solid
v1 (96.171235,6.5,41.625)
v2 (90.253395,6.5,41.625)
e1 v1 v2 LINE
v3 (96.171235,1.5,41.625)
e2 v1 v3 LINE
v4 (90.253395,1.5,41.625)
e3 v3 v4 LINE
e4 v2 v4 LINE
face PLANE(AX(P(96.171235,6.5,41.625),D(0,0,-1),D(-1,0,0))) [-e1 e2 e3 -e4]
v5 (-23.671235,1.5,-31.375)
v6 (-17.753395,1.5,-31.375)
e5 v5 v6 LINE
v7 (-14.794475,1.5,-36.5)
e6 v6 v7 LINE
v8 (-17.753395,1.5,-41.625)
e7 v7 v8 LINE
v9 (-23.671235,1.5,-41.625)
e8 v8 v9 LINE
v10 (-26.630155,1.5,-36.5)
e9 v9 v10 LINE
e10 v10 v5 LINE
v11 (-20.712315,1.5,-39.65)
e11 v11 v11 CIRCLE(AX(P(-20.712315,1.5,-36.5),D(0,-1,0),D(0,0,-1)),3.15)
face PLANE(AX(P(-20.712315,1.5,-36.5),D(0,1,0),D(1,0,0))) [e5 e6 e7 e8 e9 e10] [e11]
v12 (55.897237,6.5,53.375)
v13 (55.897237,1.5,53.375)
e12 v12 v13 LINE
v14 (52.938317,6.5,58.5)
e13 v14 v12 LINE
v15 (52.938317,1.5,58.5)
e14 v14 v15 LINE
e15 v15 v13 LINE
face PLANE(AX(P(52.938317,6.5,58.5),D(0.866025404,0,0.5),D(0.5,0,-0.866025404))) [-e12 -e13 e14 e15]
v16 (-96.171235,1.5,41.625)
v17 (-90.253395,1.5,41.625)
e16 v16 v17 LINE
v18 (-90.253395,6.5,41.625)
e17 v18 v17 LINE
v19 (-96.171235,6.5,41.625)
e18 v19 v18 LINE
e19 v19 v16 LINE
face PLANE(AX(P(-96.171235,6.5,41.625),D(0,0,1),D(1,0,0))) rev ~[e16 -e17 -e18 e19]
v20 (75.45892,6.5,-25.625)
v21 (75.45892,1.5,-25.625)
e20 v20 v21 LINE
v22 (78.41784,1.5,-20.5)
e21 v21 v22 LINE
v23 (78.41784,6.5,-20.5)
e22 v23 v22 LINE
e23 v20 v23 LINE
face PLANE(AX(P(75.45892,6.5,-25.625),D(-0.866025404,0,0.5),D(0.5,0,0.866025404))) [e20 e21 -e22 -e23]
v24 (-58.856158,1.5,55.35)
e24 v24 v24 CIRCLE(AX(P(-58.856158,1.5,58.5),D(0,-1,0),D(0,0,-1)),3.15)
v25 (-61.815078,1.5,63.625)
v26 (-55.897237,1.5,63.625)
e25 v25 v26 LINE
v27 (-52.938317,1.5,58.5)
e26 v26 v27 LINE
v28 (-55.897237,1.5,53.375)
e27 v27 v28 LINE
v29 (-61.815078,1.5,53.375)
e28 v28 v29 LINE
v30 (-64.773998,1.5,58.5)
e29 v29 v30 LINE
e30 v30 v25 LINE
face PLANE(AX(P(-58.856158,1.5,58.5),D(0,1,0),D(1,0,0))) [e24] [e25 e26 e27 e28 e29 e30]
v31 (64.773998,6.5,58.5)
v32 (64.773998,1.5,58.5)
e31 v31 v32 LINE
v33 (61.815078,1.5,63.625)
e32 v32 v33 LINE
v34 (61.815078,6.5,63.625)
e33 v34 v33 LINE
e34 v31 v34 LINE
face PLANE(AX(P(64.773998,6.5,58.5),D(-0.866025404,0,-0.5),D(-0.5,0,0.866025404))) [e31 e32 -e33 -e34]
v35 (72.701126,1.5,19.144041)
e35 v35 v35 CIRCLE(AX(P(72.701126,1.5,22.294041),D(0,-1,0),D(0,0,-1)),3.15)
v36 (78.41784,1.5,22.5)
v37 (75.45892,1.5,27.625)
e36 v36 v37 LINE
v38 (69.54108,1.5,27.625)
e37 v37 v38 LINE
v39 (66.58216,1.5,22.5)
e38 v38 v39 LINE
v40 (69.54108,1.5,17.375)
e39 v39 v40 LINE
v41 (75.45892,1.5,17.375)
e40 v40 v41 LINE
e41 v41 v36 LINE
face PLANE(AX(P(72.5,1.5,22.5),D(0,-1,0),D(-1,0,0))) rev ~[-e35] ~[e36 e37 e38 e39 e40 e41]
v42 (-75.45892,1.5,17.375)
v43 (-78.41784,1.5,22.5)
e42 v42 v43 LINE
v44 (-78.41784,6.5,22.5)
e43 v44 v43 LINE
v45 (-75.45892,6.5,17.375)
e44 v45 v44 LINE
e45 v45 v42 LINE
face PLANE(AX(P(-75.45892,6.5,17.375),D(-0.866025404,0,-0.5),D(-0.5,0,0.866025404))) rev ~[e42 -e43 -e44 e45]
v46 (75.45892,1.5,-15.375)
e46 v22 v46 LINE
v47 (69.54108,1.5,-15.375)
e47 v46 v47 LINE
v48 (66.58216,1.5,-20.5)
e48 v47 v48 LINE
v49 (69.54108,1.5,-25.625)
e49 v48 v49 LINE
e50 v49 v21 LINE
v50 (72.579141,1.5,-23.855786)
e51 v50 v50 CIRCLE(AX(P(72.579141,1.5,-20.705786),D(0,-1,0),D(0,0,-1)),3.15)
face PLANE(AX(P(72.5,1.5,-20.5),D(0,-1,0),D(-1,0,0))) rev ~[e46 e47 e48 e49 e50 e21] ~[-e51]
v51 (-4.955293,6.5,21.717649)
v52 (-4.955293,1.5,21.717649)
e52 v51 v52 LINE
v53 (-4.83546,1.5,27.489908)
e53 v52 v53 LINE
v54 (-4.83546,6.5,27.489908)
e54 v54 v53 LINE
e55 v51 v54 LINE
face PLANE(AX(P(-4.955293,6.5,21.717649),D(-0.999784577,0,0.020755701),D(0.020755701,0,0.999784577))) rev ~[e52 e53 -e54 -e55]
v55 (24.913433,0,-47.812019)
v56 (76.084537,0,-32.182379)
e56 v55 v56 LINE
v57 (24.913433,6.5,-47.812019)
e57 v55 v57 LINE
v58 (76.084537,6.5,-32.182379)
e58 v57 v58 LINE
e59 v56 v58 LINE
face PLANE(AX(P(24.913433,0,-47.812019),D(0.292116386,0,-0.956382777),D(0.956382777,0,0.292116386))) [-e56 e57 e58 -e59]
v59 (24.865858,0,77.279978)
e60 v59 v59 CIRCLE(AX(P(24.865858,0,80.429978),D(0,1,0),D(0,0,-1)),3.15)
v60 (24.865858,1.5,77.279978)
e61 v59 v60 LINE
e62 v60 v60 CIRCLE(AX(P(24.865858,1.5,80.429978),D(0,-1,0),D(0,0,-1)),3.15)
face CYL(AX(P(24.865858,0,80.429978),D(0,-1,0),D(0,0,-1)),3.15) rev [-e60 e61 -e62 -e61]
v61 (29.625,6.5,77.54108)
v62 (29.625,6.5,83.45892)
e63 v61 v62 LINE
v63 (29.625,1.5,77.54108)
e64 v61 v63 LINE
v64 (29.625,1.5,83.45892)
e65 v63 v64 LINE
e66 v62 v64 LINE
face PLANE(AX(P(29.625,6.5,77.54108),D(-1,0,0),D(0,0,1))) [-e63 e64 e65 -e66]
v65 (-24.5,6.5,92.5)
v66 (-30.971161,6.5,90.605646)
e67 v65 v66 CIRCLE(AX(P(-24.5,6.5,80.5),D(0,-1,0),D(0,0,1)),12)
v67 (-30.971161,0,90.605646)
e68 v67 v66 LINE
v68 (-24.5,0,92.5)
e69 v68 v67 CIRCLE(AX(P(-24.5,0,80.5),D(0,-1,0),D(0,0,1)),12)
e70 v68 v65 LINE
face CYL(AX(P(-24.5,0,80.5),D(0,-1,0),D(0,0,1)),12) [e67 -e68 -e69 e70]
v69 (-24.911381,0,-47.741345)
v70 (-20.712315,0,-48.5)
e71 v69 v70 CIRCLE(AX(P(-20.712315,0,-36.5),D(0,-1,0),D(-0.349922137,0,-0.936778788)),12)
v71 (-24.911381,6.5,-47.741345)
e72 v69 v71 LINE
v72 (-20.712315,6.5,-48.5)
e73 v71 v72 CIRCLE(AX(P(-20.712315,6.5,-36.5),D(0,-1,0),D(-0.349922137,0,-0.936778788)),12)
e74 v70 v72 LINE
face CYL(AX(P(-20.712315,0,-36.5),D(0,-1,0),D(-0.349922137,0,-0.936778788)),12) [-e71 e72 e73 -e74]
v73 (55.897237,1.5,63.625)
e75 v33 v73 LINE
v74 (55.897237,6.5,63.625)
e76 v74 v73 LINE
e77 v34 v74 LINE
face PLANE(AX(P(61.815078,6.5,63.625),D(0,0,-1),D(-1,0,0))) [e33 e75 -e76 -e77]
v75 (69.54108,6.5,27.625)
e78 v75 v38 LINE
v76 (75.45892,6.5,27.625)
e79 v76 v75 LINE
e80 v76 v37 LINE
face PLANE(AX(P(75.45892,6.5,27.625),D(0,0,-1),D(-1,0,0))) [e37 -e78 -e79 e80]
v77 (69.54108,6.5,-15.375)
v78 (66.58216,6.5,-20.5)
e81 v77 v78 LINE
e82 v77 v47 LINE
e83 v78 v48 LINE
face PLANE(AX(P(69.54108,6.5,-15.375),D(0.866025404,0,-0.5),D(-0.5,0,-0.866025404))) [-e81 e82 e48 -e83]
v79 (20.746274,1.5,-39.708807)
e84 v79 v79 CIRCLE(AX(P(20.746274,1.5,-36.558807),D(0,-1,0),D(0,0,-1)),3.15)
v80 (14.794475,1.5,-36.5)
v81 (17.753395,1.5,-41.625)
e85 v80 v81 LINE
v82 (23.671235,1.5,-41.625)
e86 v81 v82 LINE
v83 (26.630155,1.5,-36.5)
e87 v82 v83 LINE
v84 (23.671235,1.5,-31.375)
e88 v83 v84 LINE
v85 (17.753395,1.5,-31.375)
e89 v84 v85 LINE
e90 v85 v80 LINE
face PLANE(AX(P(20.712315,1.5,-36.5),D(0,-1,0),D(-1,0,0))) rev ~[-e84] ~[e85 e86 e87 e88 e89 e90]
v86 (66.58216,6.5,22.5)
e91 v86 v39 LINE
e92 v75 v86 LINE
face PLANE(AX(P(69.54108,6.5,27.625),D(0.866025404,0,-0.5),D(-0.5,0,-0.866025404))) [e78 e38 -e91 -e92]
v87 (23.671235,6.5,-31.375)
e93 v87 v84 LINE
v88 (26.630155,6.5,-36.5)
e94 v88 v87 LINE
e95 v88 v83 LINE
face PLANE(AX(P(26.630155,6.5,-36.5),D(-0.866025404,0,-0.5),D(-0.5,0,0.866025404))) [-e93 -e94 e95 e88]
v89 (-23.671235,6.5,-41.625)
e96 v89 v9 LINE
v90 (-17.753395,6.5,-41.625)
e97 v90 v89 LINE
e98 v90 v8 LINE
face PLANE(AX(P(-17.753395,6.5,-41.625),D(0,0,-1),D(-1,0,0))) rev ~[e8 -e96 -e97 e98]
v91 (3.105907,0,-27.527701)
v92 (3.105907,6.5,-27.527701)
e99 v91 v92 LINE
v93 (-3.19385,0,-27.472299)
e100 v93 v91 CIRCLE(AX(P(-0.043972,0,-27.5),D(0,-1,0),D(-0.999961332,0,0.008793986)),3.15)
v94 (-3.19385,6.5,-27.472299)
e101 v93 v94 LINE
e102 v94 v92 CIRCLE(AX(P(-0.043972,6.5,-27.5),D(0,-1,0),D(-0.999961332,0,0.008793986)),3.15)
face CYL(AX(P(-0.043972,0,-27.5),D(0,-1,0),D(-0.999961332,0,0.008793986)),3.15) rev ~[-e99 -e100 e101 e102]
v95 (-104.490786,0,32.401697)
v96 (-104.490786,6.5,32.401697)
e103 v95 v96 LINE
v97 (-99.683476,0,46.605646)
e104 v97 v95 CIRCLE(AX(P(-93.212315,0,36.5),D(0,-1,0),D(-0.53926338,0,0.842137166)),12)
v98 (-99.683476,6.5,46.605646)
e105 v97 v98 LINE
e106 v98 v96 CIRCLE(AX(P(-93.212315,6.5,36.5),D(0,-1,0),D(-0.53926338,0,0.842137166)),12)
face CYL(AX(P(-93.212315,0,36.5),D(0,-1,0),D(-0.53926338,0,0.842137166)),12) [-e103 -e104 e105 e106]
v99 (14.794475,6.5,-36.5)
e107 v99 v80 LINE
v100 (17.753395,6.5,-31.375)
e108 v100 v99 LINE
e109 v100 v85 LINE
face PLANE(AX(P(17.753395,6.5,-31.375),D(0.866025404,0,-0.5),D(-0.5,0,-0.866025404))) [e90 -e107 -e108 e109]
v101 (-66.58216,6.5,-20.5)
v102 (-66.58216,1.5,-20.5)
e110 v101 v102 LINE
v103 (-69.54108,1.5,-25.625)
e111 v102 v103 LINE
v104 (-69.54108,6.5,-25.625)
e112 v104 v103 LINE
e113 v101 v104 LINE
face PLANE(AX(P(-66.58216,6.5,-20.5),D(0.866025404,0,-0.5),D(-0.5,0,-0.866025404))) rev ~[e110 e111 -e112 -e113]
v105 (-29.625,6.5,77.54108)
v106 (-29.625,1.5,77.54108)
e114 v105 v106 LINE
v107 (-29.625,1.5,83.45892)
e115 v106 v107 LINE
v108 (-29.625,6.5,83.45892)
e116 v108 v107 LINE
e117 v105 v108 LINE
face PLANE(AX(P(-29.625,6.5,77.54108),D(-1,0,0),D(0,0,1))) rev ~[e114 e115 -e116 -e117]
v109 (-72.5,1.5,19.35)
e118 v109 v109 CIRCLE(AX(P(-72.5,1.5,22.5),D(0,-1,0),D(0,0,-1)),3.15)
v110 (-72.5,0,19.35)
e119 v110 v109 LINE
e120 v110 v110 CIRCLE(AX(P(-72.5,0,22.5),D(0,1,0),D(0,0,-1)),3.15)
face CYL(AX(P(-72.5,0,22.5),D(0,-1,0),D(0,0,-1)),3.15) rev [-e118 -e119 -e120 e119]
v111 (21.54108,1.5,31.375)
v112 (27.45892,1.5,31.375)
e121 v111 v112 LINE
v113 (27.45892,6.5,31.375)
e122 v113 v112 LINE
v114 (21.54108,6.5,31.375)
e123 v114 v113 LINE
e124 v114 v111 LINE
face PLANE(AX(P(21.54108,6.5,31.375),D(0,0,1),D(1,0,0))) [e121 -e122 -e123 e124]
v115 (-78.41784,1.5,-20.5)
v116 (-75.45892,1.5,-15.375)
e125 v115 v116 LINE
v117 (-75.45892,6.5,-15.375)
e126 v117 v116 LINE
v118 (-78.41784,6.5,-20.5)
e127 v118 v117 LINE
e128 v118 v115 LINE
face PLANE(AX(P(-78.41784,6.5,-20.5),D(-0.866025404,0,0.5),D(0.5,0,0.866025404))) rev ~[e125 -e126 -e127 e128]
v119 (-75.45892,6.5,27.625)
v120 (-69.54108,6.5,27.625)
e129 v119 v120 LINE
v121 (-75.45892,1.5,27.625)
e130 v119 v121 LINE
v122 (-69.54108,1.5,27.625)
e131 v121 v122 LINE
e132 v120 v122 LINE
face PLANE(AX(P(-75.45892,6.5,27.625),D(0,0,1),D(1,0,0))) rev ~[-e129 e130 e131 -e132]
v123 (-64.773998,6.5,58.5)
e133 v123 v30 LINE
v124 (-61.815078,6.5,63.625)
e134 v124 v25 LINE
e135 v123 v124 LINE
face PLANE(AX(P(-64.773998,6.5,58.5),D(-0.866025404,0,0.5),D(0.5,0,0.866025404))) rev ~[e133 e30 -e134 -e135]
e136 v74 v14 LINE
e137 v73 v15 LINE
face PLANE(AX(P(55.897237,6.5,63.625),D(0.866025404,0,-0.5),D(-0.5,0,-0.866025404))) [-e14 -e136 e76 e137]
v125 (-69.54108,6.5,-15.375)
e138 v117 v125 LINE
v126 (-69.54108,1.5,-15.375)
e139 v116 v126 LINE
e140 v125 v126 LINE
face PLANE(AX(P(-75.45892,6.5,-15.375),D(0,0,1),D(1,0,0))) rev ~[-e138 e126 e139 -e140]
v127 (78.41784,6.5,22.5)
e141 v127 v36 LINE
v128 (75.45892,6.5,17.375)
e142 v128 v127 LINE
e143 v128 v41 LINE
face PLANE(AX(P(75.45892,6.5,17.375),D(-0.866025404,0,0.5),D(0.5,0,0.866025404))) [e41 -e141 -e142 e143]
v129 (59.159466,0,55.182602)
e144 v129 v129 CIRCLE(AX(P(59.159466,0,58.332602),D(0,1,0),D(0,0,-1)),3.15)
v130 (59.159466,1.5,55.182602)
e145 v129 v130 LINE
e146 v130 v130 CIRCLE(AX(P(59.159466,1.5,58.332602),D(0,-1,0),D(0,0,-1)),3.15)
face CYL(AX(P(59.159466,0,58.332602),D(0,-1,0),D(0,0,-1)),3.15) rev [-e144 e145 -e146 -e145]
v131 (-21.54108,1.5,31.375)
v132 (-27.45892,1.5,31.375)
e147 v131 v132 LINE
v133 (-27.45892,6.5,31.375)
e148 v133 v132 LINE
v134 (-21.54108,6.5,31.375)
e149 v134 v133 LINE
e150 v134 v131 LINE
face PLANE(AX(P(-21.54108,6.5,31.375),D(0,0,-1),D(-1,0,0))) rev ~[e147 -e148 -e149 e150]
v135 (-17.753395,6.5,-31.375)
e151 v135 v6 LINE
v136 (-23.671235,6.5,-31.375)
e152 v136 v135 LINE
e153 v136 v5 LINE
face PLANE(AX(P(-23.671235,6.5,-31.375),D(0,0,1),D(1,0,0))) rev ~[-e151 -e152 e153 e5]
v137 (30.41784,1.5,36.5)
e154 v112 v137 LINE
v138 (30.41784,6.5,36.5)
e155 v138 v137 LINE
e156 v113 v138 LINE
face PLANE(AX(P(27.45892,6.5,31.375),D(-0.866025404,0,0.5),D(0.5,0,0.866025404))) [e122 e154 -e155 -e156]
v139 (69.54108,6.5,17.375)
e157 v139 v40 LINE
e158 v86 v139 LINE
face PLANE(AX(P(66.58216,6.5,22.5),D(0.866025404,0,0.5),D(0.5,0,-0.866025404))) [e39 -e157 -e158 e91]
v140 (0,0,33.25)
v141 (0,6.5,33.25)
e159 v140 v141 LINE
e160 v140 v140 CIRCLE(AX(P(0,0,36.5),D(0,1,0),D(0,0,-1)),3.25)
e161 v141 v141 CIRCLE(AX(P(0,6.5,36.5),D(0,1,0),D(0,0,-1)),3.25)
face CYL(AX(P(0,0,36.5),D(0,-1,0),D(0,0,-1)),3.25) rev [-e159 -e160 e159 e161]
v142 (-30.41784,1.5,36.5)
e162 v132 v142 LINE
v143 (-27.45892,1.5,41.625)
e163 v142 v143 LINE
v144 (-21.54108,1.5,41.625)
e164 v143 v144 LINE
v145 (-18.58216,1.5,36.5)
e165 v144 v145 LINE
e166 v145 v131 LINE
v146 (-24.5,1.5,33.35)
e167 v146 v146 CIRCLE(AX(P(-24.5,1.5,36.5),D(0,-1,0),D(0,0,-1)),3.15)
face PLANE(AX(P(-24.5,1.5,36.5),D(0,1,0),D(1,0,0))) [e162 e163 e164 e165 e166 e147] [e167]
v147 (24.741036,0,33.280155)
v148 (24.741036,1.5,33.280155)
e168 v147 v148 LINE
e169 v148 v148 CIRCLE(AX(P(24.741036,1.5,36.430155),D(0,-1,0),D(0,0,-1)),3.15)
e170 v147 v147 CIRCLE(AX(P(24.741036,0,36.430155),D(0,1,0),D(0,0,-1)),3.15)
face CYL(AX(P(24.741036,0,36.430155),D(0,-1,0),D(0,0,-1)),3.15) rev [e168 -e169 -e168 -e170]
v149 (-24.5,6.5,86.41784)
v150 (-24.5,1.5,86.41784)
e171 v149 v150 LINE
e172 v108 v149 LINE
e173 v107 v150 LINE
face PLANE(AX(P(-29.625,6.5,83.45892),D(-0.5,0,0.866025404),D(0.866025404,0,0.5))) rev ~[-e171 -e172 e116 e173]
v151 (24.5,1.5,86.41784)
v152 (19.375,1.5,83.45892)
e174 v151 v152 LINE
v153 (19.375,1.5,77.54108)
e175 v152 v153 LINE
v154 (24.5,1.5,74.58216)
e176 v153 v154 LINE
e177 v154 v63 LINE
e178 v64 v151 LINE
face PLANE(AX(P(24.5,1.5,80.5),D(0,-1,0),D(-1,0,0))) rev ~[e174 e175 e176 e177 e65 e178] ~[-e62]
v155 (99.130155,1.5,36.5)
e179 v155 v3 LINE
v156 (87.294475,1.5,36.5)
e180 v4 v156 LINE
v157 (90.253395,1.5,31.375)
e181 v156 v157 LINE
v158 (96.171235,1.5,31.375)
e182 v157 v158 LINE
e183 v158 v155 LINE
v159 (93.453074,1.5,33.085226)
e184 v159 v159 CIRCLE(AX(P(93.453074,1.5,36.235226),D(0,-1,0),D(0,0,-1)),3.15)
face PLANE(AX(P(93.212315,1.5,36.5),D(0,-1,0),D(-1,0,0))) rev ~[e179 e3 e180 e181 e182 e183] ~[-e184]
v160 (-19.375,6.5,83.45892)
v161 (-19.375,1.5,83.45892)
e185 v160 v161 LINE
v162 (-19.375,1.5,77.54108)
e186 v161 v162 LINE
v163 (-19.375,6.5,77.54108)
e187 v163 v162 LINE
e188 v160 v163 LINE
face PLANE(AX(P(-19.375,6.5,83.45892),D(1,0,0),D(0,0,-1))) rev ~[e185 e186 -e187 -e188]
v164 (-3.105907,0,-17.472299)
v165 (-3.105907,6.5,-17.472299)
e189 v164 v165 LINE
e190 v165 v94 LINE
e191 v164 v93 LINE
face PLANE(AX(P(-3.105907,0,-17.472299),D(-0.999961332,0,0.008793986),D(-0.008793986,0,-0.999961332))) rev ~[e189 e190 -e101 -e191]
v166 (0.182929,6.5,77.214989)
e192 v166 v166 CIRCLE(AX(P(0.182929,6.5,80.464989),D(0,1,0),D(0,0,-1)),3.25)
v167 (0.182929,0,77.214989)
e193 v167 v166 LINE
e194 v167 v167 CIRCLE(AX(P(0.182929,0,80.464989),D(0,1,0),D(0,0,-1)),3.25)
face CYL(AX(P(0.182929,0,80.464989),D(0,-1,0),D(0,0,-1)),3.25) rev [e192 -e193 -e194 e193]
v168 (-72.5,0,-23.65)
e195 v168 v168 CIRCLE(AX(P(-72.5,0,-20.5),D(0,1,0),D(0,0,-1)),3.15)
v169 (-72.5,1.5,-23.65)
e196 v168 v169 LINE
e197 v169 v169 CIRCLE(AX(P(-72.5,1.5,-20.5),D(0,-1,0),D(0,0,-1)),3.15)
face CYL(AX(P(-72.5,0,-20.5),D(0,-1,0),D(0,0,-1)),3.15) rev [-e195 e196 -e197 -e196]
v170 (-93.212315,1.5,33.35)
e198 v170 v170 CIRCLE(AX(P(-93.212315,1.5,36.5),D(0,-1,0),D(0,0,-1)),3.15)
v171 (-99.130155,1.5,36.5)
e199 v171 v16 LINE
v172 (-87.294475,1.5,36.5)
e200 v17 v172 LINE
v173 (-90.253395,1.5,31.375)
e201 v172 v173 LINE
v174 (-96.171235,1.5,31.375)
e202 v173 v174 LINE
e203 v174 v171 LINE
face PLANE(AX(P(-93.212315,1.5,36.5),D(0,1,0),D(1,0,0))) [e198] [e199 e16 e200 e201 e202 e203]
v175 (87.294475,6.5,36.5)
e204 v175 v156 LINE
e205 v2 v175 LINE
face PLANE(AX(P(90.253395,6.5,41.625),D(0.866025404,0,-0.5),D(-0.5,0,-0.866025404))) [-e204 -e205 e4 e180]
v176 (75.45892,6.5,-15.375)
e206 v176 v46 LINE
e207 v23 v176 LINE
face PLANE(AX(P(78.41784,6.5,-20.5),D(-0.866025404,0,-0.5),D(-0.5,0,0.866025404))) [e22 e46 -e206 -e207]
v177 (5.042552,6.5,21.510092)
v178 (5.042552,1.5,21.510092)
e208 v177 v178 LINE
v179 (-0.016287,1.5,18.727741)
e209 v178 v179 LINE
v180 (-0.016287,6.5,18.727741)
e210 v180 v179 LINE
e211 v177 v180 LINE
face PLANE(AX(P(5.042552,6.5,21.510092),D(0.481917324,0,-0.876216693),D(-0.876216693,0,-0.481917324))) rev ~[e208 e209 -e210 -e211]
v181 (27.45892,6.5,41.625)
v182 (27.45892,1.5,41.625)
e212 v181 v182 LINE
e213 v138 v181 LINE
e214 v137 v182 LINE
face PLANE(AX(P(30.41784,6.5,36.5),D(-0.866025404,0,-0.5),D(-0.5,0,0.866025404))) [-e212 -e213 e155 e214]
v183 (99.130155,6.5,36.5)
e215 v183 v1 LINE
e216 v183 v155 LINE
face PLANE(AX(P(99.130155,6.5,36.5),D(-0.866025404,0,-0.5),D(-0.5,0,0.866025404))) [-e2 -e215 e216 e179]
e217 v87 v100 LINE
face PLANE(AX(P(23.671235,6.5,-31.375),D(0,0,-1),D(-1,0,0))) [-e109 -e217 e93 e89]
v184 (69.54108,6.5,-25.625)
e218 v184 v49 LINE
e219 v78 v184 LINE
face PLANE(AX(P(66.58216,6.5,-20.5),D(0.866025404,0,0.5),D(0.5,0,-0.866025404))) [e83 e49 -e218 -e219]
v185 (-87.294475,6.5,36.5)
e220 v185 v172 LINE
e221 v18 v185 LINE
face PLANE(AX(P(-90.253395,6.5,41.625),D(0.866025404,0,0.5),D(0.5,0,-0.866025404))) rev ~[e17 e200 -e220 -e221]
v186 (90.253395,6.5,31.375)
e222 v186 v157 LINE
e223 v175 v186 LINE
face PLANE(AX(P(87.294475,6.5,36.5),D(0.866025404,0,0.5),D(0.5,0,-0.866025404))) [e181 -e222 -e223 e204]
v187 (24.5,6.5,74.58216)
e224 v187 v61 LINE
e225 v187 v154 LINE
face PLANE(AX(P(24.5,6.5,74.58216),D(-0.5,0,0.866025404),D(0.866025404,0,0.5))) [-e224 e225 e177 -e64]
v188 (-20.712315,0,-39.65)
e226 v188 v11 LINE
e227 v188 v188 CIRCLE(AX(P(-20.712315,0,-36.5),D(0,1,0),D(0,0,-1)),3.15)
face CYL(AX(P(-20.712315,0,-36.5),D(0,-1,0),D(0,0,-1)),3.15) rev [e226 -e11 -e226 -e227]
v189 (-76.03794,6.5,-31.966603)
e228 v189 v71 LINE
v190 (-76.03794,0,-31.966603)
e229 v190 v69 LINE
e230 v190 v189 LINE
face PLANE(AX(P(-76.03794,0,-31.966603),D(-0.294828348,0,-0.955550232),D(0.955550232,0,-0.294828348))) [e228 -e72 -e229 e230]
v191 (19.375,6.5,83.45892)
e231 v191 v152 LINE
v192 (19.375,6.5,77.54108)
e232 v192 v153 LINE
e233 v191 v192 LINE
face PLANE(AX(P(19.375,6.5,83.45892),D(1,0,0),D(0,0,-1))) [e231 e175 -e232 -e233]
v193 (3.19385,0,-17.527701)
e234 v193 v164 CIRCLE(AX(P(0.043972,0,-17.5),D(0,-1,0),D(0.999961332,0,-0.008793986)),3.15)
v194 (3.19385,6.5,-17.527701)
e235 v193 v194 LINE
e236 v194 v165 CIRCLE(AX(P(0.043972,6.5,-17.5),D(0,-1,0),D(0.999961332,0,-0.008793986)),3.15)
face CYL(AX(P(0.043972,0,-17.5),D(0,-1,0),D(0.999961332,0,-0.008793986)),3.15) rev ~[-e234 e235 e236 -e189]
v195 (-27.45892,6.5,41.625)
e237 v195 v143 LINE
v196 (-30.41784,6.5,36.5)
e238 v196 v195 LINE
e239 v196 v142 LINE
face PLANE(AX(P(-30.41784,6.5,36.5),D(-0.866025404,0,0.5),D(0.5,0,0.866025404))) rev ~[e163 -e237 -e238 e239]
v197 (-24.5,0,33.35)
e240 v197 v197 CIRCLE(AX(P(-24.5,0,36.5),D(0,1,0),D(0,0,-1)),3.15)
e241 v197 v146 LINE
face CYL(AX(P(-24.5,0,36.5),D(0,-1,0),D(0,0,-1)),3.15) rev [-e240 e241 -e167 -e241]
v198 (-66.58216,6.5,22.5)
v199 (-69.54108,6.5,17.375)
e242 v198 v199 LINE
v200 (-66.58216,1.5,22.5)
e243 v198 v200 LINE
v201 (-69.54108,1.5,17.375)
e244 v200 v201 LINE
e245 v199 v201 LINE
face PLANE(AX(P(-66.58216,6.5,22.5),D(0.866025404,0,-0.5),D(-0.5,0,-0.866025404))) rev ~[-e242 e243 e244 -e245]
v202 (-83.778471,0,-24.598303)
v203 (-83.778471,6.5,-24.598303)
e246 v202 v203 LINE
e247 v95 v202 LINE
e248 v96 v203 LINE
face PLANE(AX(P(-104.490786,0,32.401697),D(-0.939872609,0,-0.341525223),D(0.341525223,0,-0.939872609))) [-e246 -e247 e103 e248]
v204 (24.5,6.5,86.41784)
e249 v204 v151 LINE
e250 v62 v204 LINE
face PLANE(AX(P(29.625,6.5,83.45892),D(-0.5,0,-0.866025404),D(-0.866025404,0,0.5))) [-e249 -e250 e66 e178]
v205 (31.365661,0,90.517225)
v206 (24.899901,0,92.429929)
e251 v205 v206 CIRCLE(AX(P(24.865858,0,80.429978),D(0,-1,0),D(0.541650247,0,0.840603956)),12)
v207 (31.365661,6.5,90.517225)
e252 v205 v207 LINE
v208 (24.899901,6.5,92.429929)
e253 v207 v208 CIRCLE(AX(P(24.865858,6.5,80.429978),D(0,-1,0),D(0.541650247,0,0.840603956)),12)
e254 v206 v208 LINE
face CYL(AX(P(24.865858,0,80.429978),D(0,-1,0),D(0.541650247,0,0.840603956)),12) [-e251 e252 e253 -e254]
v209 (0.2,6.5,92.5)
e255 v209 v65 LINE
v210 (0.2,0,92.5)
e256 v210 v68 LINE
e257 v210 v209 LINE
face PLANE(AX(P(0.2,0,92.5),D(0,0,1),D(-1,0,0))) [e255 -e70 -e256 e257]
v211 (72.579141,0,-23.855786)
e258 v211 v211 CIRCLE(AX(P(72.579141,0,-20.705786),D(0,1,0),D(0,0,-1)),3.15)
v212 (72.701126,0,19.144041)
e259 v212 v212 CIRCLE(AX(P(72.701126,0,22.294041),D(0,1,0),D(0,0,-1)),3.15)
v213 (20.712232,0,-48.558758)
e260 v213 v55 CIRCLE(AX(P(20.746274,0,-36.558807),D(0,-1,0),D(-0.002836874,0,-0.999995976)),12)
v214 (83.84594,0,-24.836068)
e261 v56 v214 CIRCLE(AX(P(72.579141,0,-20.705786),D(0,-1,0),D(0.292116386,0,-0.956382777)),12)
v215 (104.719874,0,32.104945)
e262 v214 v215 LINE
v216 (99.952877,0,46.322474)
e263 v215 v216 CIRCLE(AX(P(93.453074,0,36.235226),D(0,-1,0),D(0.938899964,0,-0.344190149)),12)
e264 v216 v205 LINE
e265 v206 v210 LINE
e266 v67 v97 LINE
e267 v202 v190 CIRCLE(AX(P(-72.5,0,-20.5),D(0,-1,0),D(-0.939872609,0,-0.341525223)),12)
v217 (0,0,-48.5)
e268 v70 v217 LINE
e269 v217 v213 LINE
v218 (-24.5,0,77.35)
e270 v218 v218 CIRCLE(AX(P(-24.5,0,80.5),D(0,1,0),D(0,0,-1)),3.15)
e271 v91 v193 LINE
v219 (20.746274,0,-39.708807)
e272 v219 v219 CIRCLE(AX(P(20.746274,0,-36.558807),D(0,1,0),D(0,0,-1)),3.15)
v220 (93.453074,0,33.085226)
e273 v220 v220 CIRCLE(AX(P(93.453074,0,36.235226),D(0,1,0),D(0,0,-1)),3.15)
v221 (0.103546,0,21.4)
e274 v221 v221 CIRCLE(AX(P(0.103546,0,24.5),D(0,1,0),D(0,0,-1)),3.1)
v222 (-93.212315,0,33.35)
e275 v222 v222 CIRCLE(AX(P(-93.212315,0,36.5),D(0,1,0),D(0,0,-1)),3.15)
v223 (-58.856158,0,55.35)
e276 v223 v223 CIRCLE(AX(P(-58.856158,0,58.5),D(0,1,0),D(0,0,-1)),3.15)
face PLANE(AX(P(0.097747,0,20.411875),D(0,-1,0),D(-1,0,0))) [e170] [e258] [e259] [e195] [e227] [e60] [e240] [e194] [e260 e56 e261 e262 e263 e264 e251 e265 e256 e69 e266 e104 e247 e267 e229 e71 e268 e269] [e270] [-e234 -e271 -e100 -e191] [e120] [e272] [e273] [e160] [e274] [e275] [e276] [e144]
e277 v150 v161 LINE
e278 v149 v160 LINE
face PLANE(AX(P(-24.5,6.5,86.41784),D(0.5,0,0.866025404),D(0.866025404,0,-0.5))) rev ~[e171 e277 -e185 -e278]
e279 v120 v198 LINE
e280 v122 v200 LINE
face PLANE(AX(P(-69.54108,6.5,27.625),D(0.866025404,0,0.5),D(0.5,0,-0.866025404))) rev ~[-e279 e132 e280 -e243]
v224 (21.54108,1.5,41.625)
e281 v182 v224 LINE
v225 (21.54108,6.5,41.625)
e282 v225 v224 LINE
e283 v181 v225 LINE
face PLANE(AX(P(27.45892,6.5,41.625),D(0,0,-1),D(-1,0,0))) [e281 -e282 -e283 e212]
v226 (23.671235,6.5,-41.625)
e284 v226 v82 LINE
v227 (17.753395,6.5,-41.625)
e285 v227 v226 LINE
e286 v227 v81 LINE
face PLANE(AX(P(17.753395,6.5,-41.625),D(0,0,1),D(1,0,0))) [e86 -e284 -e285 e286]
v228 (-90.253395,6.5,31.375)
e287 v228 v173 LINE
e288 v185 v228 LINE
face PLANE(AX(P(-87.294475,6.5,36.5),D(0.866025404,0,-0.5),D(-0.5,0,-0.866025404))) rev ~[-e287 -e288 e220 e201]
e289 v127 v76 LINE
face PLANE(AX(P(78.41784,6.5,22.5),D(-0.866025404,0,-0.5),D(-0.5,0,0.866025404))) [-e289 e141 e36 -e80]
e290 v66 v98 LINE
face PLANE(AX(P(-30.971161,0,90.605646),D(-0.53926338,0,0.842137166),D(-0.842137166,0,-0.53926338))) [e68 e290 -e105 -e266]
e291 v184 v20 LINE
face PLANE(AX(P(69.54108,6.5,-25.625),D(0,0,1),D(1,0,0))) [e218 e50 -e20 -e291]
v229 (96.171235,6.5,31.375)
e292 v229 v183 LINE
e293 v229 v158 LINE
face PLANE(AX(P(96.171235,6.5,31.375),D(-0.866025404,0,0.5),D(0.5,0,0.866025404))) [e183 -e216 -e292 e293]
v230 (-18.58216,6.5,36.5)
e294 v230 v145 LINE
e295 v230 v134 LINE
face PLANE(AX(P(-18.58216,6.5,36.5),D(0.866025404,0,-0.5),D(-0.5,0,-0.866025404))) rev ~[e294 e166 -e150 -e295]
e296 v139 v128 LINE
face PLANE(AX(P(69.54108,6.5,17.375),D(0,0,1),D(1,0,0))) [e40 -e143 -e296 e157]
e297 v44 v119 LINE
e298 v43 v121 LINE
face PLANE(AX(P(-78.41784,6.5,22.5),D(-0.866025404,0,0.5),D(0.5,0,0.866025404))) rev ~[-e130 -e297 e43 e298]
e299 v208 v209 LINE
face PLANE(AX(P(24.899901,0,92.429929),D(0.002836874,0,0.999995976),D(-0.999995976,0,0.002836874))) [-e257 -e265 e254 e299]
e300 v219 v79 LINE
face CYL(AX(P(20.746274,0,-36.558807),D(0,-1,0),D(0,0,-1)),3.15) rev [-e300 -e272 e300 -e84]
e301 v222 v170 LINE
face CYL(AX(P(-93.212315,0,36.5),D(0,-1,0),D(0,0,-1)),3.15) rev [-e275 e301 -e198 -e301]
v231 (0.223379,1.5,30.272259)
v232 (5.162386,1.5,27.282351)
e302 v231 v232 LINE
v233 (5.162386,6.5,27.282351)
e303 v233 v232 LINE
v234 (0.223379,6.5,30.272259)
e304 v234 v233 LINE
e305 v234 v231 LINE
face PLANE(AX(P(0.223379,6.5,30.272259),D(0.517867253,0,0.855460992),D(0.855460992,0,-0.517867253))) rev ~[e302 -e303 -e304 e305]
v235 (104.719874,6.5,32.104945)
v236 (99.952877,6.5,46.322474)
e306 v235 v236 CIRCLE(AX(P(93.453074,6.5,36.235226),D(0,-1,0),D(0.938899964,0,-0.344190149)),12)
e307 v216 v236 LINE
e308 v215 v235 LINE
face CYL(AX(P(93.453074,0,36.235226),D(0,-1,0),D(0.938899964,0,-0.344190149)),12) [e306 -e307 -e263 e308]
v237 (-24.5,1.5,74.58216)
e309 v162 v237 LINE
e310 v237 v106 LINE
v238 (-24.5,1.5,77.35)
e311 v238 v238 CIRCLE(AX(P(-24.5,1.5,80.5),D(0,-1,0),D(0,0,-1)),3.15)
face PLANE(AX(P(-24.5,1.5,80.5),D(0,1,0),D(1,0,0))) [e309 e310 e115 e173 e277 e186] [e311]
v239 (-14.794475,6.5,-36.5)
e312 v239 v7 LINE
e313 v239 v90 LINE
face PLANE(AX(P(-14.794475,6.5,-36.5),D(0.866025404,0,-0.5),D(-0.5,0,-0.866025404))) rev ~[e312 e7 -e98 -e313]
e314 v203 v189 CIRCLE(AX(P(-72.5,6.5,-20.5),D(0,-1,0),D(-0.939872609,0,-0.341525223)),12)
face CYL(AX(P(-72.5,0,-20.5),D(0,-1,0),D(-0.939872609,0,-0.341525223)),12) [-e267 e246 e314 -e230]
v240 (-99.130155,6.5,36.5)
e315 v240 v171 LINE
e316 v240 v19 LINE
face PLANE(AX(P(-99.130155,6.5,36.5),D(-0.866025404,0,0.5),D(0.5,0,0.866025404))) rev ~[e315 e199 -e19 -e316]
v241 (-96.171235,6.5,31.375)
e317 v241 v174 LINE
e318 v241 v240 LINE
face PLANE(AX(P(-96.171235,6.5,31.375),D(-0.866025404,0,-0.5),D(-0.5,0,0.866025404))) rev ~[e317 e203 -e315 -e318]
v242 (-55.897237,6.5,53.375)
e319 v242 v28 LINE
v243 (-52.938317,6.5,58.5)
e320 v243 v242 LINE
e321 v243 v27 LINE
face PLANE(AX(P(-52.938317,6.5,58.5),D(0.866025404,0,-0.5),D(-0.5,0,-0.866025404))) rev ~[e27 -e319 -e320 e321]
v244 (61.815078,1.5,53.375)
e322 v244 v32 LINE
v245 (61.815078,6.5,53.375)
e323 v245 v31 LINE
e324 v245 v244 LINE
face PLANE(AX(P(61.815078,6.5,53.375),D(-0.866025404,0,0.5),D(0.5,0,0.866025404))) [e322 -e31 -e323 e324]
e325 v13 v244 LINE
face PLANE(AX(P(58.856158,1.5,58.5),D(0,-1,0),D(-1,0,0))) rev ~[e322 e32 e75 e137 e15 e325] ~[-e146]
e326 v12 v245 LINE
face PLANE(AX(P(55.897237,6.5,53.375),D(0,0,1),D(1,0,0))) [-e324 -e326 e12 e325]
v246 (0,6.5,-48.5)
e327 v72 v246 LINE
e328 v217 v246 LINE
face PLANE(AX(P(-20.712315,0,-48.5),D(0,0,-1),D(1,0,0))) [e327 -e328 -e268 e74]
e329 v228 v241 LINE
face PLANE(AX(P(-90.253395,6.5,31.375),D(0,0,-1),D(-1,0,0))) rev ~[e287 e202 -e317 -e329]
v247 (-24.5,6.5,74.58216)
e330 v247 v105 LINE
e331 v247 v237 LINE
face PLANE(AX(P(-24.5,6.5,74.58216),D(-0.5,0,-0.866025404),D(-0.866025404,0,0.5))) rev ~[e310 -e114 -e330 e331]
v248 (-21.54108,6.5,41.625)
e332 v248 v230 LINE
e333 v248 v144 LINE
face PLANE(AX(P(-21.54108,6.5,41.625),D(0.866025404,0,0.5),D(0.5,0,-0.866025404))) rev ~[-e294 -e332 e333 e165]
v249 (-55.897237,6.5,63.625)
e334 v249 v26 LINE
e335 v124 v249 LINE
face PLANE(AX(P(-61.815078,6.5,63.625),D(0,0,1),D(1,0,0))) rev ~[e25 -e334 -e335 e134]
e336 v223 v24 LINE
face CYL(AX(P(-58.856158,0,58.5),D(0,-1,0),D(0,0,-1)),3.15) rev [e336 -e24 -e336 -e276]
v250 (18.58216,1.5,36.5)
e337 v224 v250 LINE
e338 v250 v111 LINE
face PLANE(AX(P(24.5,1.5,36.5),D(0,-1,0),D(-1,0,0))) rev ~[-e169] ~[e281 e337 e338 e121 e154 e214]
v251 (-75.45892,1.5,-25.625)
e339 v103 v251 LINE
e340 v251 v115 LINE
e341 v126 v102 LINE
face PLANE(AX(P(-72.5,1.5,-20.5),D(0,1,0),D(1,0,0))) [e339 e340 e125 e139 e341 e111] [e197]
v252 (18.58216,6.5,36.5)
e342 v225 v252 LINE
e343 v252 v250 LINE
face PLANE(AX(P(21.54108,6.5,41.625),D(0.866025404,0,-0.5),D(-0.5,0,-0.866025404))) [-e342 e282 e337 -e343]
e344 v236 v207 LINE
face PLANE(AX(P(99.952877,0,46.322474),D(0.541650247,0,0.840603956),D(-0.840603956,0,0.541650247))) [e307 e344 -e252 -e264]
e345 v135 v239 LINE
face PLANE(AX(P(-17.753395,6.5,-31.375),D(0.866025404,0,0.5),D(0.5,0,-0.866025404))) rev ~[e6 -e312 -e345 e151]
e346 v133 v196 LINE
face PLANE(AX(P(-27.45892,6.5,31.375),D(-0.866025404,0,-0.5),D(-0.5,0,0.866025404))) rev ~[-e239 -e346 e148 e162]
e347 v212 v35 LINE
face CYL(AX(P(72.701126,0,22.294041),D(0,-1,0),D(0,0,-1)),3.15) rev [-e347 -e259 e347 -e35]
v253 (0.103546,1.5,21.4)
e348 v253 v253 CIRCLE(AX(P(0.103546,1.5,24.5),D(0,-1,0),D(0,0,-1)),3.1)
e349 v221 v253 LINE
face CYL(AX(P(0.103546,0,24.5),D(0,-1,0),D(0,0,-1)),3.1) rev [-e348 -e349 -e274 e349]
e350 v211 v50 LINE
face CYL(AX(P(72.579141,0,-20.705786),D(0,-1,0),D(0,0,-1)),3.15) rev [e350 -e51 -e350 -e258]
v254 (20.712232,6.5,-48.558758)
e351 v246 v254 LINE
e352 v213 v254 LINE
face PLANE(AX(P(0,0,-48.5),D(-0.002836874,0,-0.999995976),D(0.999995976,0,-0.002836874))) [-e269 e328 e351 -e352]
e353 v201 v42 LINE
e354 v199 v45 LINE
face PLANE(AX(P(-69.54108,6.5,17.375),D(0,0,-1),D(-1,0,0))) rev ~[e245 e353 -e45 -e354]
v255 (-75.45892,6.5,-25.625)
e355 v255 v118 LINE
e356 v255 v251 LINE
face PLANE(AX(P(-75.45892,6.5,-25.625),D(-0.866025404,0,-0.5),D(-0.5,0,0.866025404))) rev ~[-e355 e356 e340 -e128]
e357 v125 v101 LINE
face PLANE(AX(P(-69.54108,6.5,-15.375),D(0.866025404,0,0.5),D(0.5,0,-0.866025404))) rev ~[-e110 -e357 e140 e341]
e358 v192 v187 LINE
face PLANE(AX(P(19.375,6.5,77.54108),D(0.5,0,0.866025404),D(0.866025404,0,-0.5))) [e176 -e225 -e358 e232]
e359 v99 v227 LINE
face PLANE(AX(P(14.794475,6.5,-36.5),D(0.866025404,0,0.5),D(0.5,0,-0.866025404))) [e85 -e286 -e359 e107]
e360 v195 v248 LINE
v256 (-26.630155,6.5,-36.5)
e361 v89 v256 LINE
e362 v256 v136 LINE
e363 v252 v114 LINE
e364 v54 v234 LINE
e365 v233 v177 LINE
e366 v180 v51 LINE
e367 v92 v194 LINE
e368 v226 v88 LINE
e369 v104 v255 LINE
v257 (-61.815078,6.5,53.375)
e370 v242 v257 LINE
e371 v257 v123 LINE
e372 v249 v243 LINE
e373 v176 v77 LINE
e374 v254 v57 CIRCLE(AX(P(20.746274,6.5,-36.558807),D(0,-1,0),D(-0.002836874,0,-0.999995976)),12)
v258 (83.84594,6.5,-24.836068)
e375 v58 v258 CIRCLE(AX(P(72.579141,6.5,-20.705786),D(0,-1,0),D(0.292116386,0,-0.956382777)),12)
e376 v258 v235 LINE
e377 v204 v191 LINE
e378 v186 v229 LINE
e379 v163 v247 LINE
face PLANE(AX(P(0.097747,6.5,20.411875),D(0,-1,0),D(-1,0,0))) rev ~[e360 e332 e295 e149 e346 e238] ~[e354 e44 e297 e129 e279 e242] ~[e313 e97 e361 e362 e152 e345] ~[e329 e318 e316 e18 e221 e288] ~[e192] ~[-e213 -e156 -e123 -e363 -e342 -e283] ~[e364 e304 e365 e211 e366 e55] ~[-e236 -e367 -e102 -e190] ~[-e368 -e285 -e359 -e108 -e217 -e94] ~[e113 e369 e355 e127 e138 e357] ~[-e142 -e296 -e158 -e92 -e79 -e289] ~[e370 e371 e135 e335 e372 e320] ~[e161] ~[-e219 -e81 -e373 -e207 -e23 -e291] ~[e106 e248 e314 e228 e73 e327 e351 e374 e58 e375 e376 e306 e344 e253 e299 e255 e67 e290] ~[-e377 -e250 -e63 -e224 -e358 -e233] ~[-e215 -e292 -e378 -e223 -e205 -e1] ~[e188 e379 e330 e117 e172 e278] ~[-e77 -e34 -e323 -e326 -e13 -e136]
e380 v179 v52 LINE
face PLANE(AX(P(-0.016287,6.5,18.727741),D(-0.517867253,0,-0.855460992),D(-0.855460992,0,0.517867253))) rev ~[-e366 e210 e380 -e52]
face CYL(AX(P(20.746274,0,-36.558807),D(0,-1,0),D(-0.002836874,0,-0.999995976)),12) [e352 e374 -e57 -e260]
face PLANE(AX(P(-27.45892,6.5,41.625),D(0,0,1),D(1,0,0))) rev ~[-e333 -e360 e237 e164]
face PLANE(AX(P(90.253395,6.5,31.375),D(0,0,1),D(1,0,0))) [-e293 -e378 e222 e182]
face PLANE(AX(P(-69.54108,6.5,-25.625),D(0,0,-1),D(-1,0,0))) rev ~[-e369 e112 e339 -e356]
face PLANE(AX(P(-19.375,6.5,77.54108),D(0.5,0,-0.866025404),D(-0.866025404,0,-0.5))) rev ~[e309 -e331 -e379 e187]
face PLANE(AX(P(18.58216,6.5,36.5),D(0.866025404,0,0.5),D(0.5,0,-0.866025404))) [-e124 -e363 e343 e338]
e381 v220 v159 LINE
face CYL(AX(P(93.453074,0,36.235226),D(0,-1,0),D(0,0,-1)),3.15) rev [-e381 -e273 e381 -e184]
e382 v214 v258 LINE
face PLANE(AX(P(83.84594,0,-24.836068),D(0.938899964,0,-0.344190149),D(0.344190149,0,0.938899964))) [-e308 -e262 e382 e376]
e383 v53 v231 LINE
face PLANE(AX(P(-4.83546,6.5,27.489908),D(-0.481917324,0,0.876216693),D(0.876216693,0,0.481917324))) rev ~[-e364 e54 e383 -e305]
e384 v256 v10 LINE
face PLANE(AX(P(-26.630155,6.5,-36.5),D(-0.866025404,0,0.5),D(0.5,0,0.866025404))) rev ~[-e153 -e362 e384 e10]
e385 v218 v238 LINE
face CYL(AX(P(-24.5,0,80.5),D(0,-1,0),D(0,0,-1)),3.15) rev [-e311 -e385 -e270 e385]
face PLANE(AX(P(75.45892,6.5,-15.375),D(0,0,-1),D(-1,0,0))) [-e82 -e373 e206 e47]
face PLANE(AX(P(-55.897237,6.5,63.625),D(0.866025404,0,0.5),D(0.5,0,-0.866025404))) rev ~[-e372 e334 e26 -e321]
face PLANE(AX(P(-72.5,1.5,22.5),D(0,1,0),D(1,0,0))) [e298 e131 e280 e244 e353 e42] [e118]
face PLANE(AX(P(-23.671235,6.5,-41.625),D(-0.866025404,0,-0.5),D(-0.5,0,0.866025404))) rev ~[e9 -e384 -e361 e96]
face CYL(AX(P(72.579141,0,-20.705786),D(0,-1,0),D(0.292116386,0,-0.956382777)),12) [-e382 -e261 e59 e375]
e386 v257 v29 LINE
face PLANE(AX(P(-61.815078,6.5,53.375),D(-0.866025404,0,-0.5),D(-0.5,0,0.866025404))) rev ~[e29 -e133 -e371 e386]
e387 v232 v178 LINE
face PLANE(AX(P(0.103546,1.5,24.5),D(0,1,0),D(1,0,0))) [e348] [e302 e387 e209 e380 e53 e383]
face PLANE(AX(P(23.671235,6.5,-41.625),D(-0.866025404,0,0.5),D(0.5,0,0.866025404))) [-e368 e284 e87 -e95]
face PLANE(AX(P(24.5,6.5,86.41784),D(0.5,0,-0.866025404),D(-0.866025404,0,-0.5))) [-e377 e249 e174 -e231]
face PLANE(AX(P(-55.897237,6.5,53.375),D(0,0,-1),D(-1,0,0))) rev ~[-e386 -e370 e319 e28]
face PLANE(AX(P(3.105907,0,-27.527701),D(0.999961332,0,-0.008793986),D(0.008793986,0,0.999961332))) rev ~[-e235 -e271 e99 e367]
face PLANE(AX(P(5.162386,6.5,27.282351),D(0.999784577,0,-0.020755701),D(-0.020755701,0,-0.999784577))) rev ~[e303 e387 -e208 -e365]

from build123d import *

# Parameters (mm, degrees)
SKETCH2_R          = 3.15
SKETCH2_R_2        = 3.25
SKETCH2_R_3        = 3.1
MAINPLATE_DEPTH    = 6.5
PRESSFITNUTS_DEPTH = 5


with BuildPart() as part:
    # Sketch2 → MainPlate (new body)
    with BuildSketch(Plane(origin=(0, 0, 0), x_dir=(1, 0, 0), z_dir=(0, 1, 0))):
        with BuildLine():
            Line((24.899900609, -92.429929219), (0.2, -92.5))
            Line((0.2, -92.5), (-24.5, -92.5))
            ThreePointArc((-24.5, -92.5), (-27.871368271, -92.016678166), (-30.971160559, -90.605645997))
            Line((-30.971160559, -90.605645997), (-99.683475736, -46.605645997))
            ThreePointArc((-99.683475736, -46.605645997), (-104.578950448, -40.347025165), (-104.490786491, -32.401697323))
            Line((-104.490786491, -32.401697323), (-83.778471314, 24.598302677))
            ThreePointArc((-83.778471314, 24.598302677), (-80.773721892, 29.191692934), (-76.037940173, 31.966602781))
            Line((-76.037940173, 31.966602781), (-24.911380811, 47.741345462))
            ThreePointArc((-24.911380811, 47.741345462), (-22.845839779, 48.308813352), (-20.712315177, 48.5))
            Line((-20.712315177, 48.5), (0, 48.5))
            Line((0, 48.5), (20.712231832, 48.558758223))
            ThreePointArc((20.712231832, 48.558758223), (22.846290221, 48.373624884), (24.913432777, 47.812018957))
            Line((24.913432777, 47.812018957), (76.084537362, 32.182379345))
            ThreePointArc((76.084537362, 32.182379345), (80.828172093, 29.420915478), (83.845940292, 24.836067799))
            Line((83.845940292, 24.836067799), (104.719873926, -32.104944614))
            ThreePointArc((104.719873926, -32.104944614), (104.830577421, -40.049990373), (99.952877324, -46.322473865))
            Line((99.952877324, -46.322473865), (31.365661085, -90.517224974))
            ThreePointArc((31.365661085, -90.517224974), (28.26988419, -91.937045184), (24.899900609, -92.429929219))
        make_face()
        with Locations(Location((-72.5, 20.5, 0), (0, 0, 90))):
            Circle(SKETCH2_R, mode=Mode.SUBTRACT)
        with Locations(Location((-20.712315177, 36.5, 0), (0, 0, 90))):
            Circle(SKETCH2_R, mode=Mode.SUBTRACT)
        with Locations(Location((-93.212315177, -36.5, 0), (0, 0, 90))):
            Circle(SKETCH2_R, mode=Mode.SUBTRACT)
        with Locations(Location((-58.856157589, -58.5, 0), (0, 0, 90))):
            Circle(SKETCH2_R, mode=Mode.SUBTRACT)
        with Locations(Location((-24.5, -80.5, 0), (0, 0, 90))):
            Circle(SKETCH2_R, mode=Mode.SUBTRACT)
        with Locations(Location((-24.5, -36.5, 0), (0, 0, 90))):
            Circle(SKETCH2_R, mode=Mode.SUBTRACT)
        with Locations(Location((-72.5, -22.5, 0), (0, 0, 90))):
            Circle(SKETCH2_R, mode=Mode.SUBTRACT)
        with Locations(Location((24.74103568, -36.430154559, 0), (0, 0, 90))):
            Circle(SKETCH2_R, mode=Mode.SUBTRACT)
        with Locations(Location((24.865858124, -80.429977506, 0), (0, 0, 90))):
            Circle(SKETCH2_R, mode=Mode.SUBTRACT)
        with Locations(Location((59.159466244, -58.332601952, 0), (0, 0, 90))):
            Circle(SKETCH2_R, mode=Mode.SUBTRACT)
        with Locations(Location((93.453074364, -36.235226398, 0), (0, 0, 90))):
            Circle(SKETCH2_R, mode=Mode.SUBTRACT)
        with Locations(Location((72.701126299, -22.294040956, 0), (0, 0, 90))):
            Circle(SKETCH2_R, mode=Mode.SUBTRACT)
        with Locations(Location((72.579140729, 20.705786015, 0), (0, 0, 90))):
            Circle(SKETCH2_R, mode=Mode.SUBTRACT)
        with Locations(Location((20.746274317, 36.55880651, 0), (0, 0, 90))):
            Circle(SKETCH2_R, mode=Mode.SUBTRACT)
        with Locations(Location((0, -36.5, 0), (0, 0, 90))):
            Circle(SKETCH2_R_2, mode=Mode.SUBTRACT)
        with Locations(Location((0.182929062, -80.464988753, 0), (0, 0, 90))):
            Circle(SKETCH2_R_2, mode=Mode.SUBTRACT)
        with Locations(Location((0.103546099, -24.5, 0), (0, 0, 90))):
            Circle(SKETCH2_R_3, mode=Mode.SUBTRACT)
        with BuildLine():
            Line((3.105906565, 27.527701056), (3.193849827, 17.527701056))
            ThreePointArc((3.193849827, 17.527701056), (0.071672688, 14.350121804), (-3.105906565, 17.472298944))
            Line((-3.105906565, 17.472298944), (-3.193849827, 27.472298944))
            ThreePointArc((-3.193849827, 27.472298944), (-0.071672688, 30.649878196), (3.105906565, 27.527701056))
        make_face(mode=Mode.SUBTRACT)
    extrude(amount=MAINPLATE_DEPTH)

    # Sketch8 → PressFitNuts (cut)
    with BuildSketch(Plane(origin=(0, 6.5, 0), x_dir=(1, 0, 0), z_dir=(0, 1, 0))):
        Polygon((-4.835460238, -27.48990798), (0.223379197, -30.272258948), (5.162385534, -27.282350968), (5.042552437, -21.51009202), (-0.016286998, -18.727741052), (-4.955293335, -21.717649032), align=None)
        Polygon((-18.582159741, -36.5), (-21.54107987, -31.375), (-27.45892013, -31.375), (-30.417840259, -36.5), (-27.45892013, -41.625), (-21.54107987, -41.625), align=None)
        Polygon((-66.582159741, -22.5), (-69.54107987, -17.375), (-75.45892013, -17.375), (-78.417840259, -22.5), (-75.45892013, -27.625), (-69.54107987, -27.625), align=None)
        Polygon((-66.582159741, 20.5), (-69.54107987, 25.625), (-75.45892013, 25.625), (-78.417840259, 20.5), (-75.45892013, 15.375), (-69.54107987, 15.375), align=None)
        Polygon((-87.294474918, -36.5), (-90.253395048, -31.375), (-96.171235307, -31.375), (-99.130155436, -36.5), (-96.171235307, -41.625), (-90.253395048, -41.625), align=None)
        Polygon((-52.938317329, -58.5), (-55.897237459, -53.375), (-61.815077718, -53.375), (-64.773997848, -58.5), (-61.815077718, -63.625), (-55.897237459, -63.625), align=None)
        Polygon((-24.5, -74.582159741), (-29.625, -77.54107987), (-29.625, -83.45892013), (-24.5, -86.417840259), (-19.375, -83.45892013), (-19.375, -77.54107987), align=None)
        Polygon((-14.794474918, 36.5), (-17.753395048, 41.625), (-23.671235307, 41.625), (-26.630155436, 36.5), (-23.671235307, 31.375), (-17.753395048, 31.375), align=None)
        Polygon((17.753395048, 31.375), (14.794474918, 36.5), (17.753395048, 41.625), (23.671235307, 41.625), (26.630155436, 36.5), (23.671235307, 31.375), align=None)
        Polygon((19.375, -77.54107987), (24.5, -74.582159741), (29.625, -77.54107987), (29.625, -83.45892013), (24.5, -86.417840259), (19.375, -83.45892013), align=None)
        Polygon((55.897237459, -63.625), (52.938317329, -58.5), (55.897237459, -53.375), (61.815077718, -53.375), (64.773997848, -58.5), (61.815077718, -63.625), align=None)
        Polygon((90.253395048, -41.625), (87.294474918, -36.5), (90.253395048, -31.375), (96.171235307, -31.375), (99.130155436, -36.5), (96.171235307, -41.625), align=None)
        Polygon((69.54107987, 15.375), (66.582159741, 20.5), (69.54107987, 25.625), (75.45892013, 25.625), (78.417840259, 20.5), (75.45892013, 15.375), align=None)
        Polygon((69.54107987, -27.625), (66.582159741, -22.5), (69.54107987, -17.375), (75.45892013, -17.375), (78.417840259, -22.5), (75.45892013, -27.625), align=None)
        Polygon((21.54107987, -41.625), (18.582159741, -36.5), (21.54107987, -31.375), (27.45892013, -31.375), (30.417840259, -36.5), (27.45892013, -41.625), align=None)
    extrude(amount=-PRESSFITNUTS_DEPTH, mode=Mode.SUBTRACT)


solid = part.part
